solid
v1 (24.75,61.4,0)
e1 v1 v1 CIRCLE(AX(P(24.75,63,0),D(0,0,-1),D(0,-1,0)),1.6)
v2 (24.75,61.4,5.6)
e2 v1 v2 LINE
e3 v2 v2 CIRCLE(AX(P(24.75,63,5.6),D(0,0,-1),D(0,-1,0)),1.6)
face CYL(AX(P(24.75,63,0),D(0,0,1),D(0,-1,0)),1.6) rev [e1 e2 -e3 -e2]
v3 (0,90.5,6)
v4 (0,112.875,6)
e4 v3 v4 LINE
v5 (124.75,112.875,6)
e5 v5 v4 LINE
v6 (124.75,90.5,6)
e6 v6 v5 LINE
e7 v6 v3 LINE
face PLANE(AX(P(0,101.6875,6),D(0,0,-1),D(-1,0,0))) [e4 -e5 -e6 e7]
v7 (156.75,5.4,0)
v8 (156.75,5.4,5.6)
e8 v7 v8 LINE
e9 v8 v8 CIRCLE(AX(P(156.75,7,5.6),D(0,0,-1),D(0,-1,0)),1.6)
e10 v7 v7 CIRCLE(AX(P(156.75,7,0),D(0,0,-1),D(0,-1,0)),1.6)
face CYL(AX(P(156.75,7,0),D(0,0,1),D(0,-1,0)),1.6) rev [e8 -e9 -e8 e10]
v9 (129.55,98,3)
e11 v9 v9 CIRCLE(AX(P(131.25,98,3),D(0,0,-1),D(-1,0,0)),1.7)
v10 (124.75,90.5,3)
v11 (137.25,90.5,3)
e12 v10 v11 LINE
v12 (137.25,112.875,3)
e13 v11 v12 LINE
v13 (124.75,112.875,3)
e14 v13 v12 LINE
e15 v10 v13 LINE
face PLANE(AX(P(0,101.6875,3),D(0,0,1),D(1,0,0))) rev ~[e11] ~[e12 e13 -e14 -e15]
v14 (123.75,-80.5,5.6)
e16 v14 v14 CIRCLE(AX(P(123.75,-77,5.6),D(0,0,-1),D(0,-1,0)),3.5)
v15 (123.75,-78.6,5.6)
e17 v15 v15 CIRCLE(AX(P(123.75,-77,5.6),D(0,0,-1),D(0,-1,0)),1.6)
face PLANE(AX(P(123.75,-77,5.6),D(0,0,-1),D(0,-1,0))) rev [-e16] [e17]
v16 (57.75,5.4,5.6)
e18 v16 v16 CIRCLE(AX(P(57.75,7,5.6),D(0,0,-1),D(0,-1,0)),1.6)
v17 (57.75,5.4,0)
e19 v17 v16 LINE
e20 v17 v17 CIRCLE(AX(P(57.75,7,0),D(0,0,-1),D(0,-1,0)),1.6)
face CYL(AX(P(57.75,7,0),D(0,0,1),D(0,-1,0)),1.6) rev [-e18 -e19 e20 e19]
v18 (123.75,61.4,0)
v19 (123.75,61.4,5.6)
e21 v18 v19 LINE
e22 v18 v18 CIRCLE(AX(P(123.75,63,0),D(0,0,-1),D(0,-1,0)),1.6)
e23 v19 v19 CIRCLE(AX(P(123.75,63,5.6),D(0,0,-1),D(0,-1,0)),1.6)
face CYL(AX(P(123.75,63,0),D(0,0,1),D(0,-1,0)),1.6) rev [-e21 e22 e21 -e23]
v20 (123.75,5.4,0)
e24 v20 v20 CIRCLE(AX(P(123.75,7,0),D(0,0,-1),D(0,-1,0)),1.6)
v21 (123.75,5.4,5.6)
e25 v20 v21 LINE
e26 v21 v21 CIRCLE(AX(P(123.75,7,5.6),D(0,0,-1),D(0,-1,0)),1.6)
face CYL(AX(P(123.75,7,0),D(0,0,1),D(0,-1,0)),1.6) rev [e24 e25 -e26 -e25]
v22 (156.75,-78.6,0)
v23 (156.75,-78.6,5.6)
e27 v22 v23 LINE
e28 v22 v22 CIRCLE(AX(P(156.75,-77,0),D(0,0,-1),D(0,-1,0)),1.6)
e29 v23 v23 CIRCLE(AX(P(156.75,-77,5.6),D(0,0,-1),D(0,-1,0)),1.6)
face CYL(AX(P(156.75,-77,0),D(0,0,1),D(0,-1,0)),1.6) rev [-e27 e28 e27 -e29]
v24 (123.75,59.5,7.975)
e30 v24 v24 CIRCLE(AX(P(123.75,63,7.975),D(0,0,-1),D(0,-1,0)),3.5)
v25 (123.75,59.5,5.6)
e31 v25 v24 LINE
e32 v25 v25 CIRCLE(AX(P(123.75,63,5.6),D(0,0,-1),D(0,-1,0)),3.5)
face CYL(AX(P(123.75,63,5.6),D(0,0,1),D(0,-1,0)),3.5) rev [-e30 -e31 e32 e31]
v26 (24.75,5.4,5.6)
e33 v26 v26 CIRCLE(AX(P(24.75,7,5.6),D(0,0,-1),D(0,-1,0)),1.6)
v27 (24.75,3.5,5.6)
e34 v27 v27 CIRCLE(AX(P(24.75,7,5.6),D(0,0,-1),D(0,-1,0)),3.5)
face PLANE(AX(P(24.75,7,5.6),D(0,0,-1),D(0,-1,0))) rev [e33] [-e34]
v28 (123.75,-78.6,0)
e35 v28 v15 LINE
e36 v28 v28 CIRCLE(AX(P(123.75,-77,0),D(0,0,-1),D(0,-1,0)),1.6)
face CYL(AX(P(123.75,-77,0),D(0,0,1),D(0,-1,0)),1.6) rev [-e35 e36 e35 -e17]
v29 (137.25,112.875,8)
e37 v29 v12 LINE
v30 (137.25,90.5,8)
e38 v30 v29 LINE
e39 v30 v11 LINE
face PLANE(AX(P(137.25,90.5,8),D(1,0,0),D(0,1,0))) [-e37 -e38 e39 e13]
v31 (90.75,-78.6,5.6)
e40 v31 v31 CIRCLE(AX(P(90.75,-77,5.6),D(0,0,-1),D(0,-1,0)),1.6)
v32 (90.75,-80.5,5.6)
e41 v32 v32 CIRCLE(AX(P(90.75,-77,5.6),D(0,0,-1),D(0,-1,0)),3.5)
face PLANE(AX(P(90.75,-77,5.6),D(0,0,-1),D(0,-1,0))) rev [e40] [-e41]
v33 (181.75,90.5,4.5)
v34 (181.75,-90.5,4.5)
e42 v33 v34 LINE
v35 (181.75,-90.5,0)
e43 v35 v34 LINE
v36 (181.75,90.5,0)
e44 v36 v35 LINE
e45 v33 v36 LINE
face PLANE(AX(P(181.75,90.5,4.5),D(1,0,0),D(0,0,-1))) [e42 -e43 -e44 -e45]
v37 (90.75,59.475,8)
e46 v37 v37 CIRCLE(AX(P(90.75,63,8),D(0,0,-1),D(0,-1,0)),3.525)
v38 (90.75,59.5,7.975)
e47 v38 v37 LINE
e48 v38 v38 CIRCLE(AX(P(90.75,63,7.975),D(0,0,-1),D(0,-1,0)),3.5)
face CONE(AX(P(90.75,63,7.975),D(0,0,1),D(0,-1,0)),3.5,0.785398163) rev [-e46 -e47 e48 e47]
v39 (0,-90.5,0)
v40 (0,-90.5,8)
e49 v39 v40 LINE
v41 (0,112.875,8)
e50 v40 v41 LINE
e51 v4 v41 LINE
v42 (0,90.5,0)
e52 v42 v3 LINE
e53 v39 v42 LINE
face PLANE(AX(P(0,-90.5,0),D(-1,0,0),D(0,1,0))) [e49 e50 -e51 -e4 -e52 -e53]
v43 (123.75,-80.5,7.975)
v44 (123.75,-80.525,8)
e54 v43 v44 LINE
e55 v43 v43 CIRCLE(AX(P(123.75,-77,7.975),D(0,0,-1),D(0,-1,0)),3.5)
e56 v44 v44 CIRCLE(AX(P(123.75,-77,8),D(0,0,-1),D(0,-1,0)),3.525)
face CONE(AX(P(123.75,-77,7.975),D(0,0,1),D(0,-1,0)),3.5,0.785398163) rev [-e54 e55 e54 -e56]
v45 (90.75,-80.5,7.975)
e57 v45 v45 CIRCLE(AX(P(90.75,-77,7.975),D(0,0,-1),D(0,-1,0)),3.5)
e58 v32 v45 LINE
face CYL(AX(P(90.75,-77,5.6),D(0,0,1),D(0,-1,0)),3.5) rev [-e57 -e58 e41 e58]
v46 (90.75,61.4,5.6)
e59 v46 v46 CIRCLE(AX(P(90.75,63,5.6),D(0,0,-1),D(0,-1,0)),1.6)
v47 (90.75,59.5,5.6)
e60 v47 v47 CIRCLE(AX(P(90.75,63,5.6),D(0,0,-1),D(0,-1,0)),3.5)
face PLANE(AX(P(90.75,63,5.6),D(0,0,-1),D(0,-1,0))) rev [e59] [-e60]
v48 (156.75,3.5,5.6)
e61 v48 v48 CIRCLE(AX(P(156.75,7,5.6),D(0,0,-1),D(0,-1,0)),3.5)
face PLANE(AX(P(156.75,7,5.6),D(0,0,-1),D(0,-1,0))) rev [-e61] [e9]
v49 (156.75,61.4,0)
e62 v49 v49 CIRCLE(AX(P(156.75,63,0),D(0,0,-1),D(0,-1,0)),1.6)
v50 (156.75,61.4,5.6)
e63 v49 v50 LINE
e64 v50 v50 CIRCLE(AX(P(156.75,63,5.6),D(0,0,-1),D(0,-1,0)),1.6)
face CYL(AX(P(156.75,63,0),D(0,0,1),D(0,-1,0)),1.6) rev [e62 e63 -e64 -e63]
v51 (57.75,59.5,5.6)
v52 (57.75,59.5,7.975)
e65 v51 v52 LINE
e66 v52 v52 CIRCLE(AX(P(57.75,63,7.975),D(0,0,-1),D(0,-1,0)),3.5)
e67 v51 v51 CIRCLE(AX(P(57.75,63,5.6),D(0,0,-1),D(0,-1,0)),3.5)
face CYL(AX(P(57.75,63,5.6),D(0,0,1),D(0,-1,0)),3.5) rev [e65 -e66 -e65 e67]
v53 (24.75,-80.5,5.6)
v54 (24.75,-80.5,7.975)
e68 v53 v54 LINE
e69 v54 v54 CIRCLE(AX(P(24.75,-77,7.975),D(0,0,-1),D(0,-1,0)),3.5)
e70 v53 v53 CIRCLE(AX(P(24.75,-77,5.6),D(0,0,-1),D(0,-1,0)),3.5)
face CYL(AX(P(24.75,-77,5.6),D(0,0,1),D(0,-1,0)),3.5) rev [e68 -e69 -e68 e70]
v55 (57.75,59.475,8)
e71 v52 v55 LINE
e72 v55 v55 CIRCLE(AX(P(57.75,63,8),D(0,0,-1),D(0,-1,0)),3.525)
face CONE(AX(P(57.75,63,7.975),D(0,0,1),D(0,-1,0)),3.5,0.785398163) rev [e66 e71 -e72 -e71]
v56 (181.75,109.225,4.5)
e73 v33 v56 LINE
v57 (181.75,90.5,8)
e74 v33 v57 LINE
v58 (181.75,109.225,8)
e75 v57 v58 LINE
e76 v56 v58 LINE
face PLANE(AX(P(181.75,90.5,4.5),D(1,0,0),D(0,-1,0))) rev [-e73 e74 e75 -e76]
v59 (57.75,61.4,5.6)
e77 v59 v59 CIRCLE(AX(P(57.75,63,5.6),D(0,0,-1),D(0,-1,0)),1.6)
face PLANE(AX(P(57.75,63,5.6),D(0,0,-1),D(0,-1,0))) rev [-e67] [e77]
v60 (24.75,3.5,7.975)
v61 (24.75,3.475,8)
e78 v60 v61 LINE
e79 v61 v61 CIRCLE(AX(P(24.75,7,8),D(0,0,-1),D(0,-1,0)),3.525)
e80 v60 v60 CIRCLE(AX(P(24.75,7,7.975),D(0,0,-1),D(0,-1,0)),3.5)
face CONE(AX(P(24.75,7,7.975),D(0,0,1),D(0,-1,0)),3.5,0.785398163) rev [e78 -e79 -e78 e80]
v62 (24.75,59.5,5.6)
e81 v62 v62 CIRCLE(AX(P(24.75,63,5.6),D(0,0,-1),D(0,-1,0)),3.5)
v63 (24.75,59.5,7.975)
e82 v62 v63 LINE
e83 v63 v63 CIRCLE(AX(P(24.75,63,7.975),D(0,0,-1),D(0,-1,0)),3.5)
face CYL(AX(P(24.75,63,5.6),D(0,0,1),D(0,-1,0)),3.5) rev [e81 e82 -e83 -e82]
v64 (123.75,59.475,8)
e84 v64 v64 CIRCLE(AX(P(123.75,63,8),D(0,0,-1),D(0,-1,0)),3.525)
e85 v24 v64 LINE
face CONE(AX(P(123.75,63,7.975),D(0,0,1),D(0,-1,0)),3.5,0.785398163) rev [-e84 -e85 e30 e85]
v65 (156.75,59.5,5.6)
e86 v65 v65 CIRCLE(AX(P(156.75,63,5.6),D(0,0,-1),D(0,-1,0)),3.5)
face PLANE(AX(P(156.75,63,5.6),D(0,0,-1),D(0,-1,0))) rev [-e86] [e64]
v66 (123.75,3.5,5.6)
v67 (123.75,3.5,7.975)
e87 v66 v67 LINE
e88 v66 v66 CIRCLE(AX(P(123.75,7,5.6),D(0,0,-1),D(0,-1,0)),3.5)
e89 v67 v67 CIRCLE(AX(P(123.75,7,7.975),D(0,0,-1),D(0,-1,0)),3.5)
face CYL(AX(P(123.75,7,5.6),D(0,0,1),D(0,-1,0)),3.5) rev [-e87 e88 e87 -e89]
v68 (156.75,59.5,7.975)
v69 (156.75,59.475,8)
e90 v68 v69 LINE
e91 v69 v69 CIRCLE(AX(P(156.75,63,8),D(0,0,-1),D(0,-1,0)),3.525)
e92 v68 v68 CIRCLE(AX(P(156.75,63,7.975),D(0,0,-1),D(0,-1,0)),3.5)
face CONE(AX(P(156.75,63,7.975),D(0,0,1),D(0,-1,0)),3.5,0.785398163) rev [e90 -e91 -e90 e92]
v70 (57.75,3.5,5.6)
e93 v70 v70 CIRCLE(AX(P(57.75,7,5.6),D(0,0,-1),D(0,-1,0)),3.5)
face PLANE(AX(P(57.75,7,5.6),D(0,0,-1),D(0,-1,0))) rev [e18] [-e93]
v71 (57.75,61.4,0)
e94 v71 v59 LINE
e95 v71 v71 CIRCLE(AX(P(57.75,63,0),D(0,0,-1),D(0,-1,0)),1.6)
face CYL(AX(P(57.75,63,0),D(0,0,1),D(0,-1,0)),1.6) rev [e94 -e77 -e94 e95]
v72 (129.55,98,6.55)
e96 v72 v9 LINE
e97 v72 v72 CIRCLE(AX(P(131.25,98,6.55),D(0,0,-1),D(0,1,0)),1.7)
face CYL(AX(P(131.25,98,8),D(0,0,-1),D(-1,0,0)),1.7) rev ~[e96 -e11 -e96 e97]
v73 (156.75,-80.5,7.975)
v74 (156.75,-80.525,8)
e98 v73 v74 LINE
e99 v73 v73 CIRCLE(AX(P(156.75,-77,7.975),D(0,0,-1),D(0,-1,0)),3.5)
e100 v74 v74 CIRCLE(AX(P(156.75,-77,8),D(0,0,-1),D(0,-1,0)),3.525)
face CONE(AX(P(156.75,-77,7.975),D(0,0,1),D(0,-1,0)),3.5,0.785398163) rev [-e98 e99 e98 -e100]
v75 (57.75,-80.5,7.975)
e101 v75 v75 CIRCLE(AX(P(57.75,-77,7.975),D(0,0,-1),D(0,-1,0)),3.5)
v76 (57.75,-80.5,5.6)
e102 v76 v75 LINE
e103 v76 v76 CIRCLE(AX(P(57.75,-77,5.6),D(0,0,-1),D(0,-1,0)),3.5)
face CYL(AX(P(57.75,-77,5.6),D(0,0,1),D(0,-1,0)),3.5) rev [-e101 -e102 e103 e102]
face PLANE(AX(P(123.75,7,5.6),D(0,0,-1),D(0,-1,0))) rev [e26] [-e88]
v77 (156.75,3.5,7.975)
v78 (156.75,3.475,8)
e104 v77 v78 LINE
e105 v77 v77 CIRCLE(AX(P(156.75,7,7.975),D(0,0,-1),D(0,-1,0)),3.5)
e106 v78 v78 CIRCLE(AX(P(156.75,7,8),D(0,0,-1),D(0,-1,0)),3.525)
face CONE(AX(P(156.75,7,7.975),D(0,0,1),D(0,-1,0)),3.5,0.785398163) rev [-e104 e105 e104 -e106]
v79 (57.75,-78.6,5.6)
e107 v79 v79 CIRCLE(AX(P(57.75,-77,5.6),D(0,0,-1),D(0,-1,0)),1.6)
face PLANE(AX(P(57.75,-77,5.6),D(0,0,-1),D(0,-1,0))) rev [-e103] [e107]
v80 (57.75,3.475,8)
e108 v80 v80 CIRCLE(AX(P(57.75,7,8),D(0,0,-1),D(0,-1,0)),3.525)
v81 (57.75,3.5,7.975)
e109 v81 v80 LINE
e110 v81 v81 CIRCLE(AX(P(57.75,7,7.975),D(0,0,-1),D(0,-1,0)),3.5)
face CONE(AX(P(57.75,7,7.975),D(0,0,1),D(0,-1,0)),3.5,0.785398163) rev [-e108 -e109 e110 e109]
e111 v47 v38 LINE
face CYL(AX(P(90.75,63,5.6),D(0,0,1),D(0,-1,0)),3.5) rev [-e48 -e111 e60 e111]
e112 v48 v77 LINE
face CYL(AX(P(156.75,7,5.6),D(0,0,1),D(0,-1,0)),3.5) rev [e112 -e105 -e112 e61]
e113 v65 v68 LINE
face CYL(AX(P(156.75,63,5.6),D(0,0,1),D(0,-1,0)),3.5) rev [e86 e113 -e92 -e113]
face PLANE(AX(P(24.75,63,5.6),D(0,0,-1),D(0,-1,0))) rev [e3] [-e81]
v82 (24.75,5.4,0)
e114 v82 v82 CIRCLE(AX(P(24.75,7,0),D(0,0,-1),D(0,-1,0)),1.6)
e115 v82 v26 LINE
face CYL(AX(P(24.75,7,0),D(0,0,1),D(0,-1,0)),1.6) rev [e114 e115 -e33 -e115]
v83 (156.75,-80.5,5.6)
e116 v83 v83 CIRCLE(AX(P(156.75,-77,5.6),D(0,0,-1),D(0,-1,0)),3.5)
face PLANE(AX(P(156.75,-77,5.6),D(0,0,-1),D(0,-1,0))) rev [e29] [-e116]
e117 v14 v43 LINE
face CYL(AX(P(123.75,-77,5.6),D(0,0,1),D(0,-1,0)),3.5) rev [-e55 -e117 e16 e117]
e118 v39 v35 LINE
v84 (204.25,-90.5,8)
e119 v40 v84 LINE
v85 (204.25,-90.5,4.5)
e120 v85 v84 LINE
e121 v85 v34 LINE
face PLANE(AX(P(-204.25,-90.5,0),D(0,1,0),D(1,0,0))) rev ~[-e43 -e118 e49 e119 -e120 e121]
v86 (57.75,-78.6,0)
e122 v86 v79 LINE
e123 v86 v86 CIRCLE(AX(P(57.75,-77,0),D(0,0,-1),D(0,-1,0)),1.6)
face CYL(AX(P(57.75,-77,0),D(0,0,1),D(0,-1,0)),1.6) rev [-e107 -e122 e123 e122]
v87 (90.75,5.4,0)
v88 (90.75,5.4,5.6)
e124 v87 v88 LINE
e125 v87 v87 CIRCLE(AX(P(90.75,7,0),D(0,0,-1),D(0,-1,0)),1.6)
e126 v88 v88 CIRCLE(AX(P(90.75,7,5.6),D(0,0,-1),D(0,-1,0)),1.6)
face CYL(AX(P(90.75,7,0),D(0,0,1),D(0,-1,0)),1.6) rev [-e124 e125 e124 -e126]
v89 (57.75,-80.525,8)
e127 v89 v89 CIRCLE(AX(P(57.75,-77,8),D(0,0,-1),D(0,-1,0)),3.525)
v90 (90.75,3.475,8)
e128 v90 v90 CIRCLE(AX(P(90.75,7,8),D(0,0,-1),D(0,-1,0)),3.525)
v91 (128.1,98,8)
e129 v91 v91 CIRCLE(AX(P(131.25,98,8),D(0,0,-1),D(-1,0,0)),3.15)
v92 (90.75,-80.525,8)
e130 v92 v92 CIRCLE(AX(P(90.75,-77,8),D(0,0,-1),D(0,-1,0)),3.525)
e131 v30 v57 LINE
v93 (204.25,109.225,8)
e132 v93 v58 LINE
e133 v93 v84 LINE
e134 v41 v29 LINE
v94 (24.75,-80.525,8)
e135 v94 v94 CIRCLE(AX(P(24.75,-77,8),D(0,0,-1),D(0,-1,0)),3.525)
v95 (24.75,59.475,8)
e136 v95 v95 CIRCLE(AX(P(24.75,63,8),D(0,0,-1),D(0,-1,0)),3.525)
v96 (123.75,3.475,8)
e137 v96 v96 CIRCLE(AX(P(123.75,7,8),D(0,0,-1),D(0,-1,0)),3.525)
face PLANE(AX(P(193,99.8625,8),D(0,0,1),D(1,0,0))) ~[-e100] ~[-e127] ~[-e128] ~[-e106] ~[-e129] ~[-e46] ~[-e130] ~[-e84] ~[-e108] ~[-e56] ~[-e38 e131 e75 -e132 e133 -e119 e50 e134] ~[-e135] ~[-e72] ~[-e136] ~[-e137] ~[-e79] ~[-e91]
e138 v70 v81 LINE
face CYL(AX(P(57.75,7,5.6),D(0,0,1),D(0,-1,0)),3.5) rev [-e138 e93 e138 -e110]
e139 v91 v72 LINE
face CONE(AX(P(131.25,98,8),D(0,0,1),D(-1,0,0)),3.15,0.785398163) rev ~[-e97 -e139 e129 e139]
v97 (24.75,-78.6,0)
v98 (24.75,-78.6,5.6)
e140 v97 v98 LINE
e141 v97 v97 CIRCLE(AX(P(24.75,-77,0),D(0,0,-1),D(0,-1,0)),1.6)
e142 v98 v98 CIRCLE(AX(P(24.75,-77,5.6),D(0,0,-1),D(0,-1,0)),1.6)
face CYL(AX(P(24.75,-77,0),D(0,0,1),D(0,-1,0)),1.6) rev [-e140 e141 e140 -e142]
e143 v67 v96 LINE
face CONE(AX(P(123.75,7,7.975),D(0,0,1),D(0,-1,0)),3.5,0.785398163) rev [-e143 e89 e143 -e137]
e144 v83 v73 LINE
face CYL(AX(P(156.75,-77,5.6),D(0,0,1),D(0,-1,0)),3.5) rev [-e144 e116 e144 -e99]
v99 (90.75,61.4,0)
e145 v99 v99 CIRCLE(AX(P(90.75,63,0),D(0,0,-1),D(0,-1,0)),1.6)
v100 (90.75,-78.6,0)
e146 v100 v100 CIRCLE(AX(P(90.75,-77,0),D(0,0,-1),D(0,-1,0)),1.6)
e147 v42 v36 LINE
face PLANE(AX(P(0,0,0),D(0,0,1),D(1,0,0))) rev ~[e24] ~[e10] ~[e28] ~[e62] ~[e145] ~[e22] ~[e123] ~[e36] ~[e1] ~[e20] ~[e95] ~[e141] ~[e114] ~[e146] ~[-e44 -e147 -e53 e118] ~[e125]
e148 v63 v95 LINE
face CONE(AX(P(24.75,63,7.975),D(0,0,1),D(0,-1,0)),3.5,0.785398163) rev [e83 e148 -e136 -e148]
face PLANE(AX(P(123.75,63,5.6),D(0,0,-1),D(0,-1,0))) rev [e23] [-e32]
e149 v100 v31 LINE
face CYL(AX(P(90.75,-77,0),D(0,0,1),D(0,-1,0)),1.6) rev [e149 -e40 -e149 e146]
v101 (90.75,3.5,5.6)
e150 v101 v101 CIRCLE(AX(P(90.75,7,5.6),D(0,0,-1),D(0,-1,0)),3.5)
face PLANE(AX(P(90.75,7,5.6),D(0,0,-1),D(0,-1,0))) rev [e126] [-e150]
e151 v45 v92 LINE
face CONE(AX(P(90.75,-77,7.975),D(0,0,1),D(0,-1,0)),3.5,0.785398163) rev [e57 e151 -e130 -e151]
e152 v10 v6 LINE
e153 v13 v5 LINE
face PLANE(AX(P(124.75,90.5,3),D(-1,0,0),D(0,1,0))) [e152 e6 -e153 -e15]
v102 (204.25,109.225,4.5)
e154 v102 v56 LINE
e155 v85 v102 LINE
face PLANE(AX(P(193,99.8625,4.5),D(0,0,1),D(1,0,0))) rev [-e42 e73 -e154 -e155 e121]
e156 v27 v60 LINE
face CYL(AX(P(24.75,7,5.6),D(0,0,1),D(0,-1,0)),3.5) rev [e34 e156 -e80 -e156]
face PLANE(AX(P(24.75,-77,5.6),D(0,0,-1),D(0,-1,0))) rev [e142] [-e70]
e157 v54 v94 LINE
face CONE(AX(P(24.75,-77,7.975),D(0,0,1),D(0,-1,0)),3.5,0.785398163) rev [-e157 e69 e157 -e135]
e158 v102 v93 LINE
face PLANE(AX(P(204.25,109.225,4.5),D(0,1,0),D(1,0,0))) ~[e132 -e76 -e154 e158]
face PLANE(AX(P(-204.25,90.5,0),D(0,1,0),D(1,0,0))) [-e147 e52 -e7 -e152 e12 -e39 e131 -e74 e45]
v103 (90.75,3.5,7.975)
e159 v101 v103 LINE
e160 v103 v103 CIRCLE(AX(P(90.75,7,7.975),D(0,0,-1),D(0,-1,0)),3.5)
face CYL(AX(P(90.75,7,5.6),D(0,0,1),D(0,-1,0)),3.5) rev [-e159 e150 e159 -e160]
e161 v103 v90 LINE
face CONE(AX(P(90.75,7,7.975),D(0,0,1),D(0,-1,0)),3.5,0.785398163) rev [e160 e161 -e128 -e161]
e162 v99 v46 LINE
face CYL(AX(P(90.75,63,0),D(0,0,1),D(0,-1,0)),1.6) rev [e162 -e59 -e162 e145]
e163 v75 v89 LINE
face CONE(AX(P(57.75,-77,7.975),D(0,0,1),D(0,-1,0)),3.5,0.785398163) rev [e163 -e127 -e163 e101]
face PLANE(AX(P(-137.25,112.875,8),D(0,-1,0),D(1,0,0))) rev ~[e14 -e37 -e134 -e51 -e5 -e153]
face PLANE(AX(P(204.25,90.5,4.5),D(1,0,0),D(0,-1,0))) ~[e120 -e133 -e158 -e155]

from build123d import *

# Parameters (mm, degrees)
ESQUISSE1_W                                    = 408.5
ESQUISSE1_H                                    = 181
BOSS_EXTRU_1_DEPTH                             = 8
CHAMBRAGE_POUR_VIS_T_TE_RONDE_BOMB_2_COUNT     = 2
CHAMBRAGE_POUR_VIS_T_TE_RONDE_BOMB_2_PITCH     = 56
CHAMBRAGE_POUR_VIS_T_TE_RONDE_BOMB_3_COUNT     = 2
CHAMBRAGE_POUR_VIS_T_TE_RONDE_BOMB_3_PITCH     = 140
R_P_TITION_LIN_AIRE1_COUNT                     = 11
R_P_TITION_LIN_AIRE1_PITCH                     = 33
ENL_V_MAT_EXTRU_1_REACH                        = 275.026
ESQUISSE6_W                                    = 22.5
ESQUISSE6_H                                    = 4.5
BOSS_EXTRU_2_START                             = -3.5
ESQUISSE7_W                                    = 22.5
ESQUISSE7_H                                    = 18.725
BOSS_EXTRU_2_DEPTH                             = 3.5
ESQUISSE8_W                                    = 274.5
ESQUISSE8_H                                    = 22.375
BOSS_EXTRU_3_DEPTH                             = 5
FRAISAGE_POUR_VIS_T_TE_FRAIS_E_M31_D           = 3.4
FRAISAGE_POUR_VIS_T_TE_FRAIS_E_M31_CSINK_D     = 6.3
FRAISAGE_POUR_VIS_T_TE_FRAIS_E_M31_CSINK_ANGLE = 90
ESQUISSE12_W                                   = 249.5
ESQUISSE12_H                                   = 22.375
ENL_V_MAT_EXTRU_2_DEPTH                        = 3
ESQUISSE13_W                                   = 204.25
ESQUISSE13_H                                   = 203.375
ENL_V_MAT_EXTRU_3_DEPTH                        = 10


with BuildPart() as part:
    # Esquisse1 → Boss.-Extru.1 (new body)
    with BuildSketch(Plane.XY):
        Rectangle(ESQUISSE1_W, ESQUISSE1_H)
    extrude(amount=BOSS_EXTRU_1_DEPTH)

    # Esquisse3 → Chambrage pour vis à tête ronde bombée M31 (revolve, cut)
    with BuildSketch(Plane(origin=(-173.25, 63, 8), x_dir=(0, -1, 0), z_dir=(1, 0, 0))):
        Polygon((0, 0), (0, 8), (1.6, 8), (1.6, 2.4), (3.5, 2.4), (3.5, 0.025), (3.525, 0), align=None)
    chambrage_pour_vis_t_te_ronde_bomb_e_m = revolve(axis=Axis((-173.25, 63, 14.35), (0, 0, -1)), mode=Mode.SUBTRACT)

    # Chambrage pour vis _ t_te ronde bomb 2: Chambrage pour vis à tête ronde bombée M31 ×2
    with Locations(*[(0, -i * CHAMBRAGE_POUR_VIS_T_TE_RONDE_BOMB_2_PITCH, 0) for i in range(1, CHAMBRAGE_POUR_VIS_T_TE_RONDE_BOMB_2_COUNT)]):
        add(chambrage_pour_vis_t_te_ronde_bomb_e_m, mode=Mode.SUBTRACT)

    # Chambrage pour vis _ t_te ronde bomb 3: Chambrage pour vis à tête ronde bombée M31 ×2
    with Locations(*[(0, -i * CHAMBRAGE_POUR_VIS_T_TE_RONDE_BOMB_3_PITCH, 0) for i in range(1, CHAMBRAGE_POUR_VIS_T_TE_RONDE_BOMB_3_COUNT)]):
        add(chambrage_pour_vis_t_te_ronde_bomb_e_m, mode=Mode.SUBTRACT)

    # Répétition linéaire1: Chambrage pour vis à tête ronde bombée M31 ×11
    with Locations(*[(i * R_P_TITION_LIN_AIRE1_PITCH, 0, 0) for i in range(1, R_P_TITION_LIN_AIRE1_COUNT)]):
        add(chambrage_pour_vis_t_te_ronde_bomb_e_m, mode=Mode.SUBTRACT)

    # Répétition linéaire1 copy 1 sketch → Répétition linéaire1 copy 1 (revolve, cut)
    with BuildSketch(Plane(origin=(-140.25, 7, 8), x_dir=(0, -1, 0), z_dir=(1, 0, 0))):
        Polygon((0, 0), (0, 8), (1.6, 8), (1.6, 2.4), (3.5, 2.4), (3.5, 0.025), (3.525, 0), align=None)
    revolve(axis=Axis((-140.25, 7, 14.35), (0, 0, -1)), mode=Mode.SUBTRACT)

    # Répétition linéaire1 copy 2 sketch → Répétition linéaire1 copy 2 (revolve, cut)
    with BuildSketch(Plane(origin=(-107.25, 7, 8), x_dir=(0, -1, 0), z_dir=(1, 0, 0))):
        Polygon((0, 0), (0, 8), (1.6, 8), (1.6, 2.4), (3.5, 2.4), (3.5, 0.025), (3.525, 0), align=None)
    revolve(axis=Axis((-107.25, 7, 14.35), (0, 0, -1)), mode=Mode.SUBTRACT)

    # Répétition linéaire1 copy 3 sketch → Répétition linéaire1 copy 3 (revolve, cut)
    with BuildSketch(Plane(origin=(-74.25, 7, 8), x_dir=(0, -1, 0), z_dir=(1, 0, 0))):
        Polygon((0, 0), (0, 8), (1.6, 8), (1.6, 2.4), (3.5, 2.4), (3.5, 0.025), (3.525, 0), align=None)
    revolve(axis=Axis((-74.25, 7, 14.35), (0, 0, -1)), mode=Mode.SUBTRACT)

    # Répétition linéaire1 copy 4 sketch → Répétition linéaire1 copy 4 (revolve, cut)
    with BuildSketch(Plane(origin=(-41.25, 7, 8), x_dir=(0, -1, 0), z_dir=(1, 0, 0))):
        Polygon((0, 0), (0, 8), (1.6, 8), (1.6, 2.4), (3.5, 2.4), (3.5, 0.025), (3.525, 0), align=None)
    revolve(axis=Axis((-41.25, 7, 14.35), (0, 0, -1)), mode=Mode.SUBTRACT)

    # Répétition linéaire1 copy 5 sketch → Répétition linéaire1 copy 5 (revolve, cut)
    with BuildSketch(Plane(origin=(-8.25, 7, 8), x_dir=(0, -1, 0), z_dir=(1, 0, 0))):
        Polygon((0, 0), (0, 8), (1.6, 8), (1.6, 2.4), (3.5, 2.4), (3.5, 0.025), (3.525, 0), align=None)
    revolve(axis=Axis((-8.25, 7, 14.35), (0, 0, -1)), mode=Mode.SUBTRACT)

    # Répétition linéaire1 copy 6 sketch → Répétition linéaire1 copy 6 (revolve, cut)
    with BuildSketch(Plane(origin=(24.75, 7, 8), x_dir=(0, -1, 0), z_dir=(1, 0, 0))):
        Polygon((0, 0), (0, 8), (1.6, 8), (1.6, 2.4), (3.5, 2.4), (3.5, 0.025), (3.525, 0), align=None)
    revolve(axis=Axis((24.75, 7, 14.35), (0, 0, -1)), mode=Mode.SUBTRACT)

    # Répétition linéaire1 copy 7 sketch → Répétition linéaire1 copy 7 (revolve, cut)
    with BuildSketch(Plane(origin=(57.75, 7, 8), x_dir=(0, -1, 0), z_dir=(1, 0, 0))):
        Polygon((0, 0), (0, 8), (1.6, 8), (1.6, 2.4), (3.5, 2.4), (3.5, 0.025), (3.525, 0), align=None)
    revolve(axis=Axis((57.75, 7, 14.35), (0, 0, -1)), mode=Mode.SUBTRACT)

    # Répétition linéaire1 copy 8 sketch → Répétition linéaire1 copy 8 (revolve, cut)
    with BuildSketch(Plane(origin=(90.75, 7, 8), x_dir=(0, -1, 0), z_dir=(1, 0, 0))):
        Polygon((0, 0), (0, 8), (1.6, 8), (1.6, 2.4), (3.5, 2.4), (3.5, 0.025), (3.525, 0), align=None)
    revolve(axis=Axis((90.75, 7, 14.35), (0, 0, -1)), mode=Mode.SUBTRACT)

    # Répétition linéaire1 copy 9 sketch → Répétition linéaire1 copy 9 (revolve, cut)
    with BuildSketch(Plane(origin=(123.75, 7, 8), x_dir=(0, -1, 0), z_dir=(1, 0, 0))):
        Polygon((0, 0), (0, 8), (1.6, 8), (1.6, 2.4), (3.5, 2.4), (3.5, 0.025), (3.525, 0), align=None)
    revolve(axis=Axis((123.75, 7, 14.35), (0, 0, -1)), mode=Mode.SUBTRACT)

    # Répétition linéaire1 copy 10 sketch → Répétition linéaire1 copy 10 (revolve, cut)
    with BuildSketch(Plane(origin=(156.75, 7, 8), x_dir=(0, -1, 0), z_dir=(1, 0, 0))):
        Polygon((0, 0), (0, 8), (1.6, 8), (1.6, 2.4), (3.5, 2.4), (3.5, 0.025), (3.525, 0), align=None)
    revolve(axis=Axis((156.75, 7, 14.35), (0, 0, -1)), mode=Mode.SUBTRACT)

    # Répétition linéaire1 copy 11 sketch → Répétition linéaire1 copy 11 (revolve, cut)
    with BuildSketch(Plane(origin=(-140.25, -77, 8), x_dir=(0, -1, 0), z_dir=(1, 0, 0))):
        Polygon((0, 0), (0, 8), (1.6, 8), (1.6, 2.4), (3.5, 2.4), (3.5, 0.025), (3.525, 0), align=None)
    revolve(axis=Axis((-140.25, -77, 14.35), (0, 0, -1)), mode=Mode.SUBTRACT)

    # Répétition linéaire1 copy 12 sketch → Répétition linéaire1 copy 12 (revolve, cut)
    with BuildSketch(Plane(origin=(-107.25, -77, 8), x_dir=(0, -1, 0), z_dir=(1, 0, 0))):
        Polygon((0, 0), (0, 8), (1.6, 8), (1.6, 2.4), (3.5, 2.4), (3.5, 0.025), (3.525, 0), align=None)
    revolve(axis=Axis((-107.25, -77, 14.35), (0, 0, -1)), mode=Mode.SUBTRACT)

    # Répétition linéaire1 copy 13 sketch → Répétition linéaire1 copy 13 (revolve, cut)
    with BuildSketch(Plane(origin=(-74.25, -77, 8), x_dir=(0, -1, 0), z_dir=(1, 0, 0))):
        Polygon((0, 0), (0, 8), (1.6, 8), (1.6, 2.4), (3.5, 2.4), (3.5, 0.025), (3.525, 0), align=None)
    revolve(axis=Axis((-74.25, -77, 14.35), (0, 0, -1)), mode=Mode.SUBTRACT)

    # Répétition linéaire1 copy 14 sketch → Répétition linéaire1 copy 14 (revolve, cut)
    with BuildSketch(Plane(origin=(-41.25, -77, 8), x_dir=(0, -1, 0), z_dir=(1, 0, 0))):
        Polygon((0, 0), (0, 8), (1.6, 8), (1.6, 2.4), (3.5, 2.4), (3.5, 0.025), (3.525, 0), align=None)
    revolve(axis=Axis((-41.25, -77, 14.35), (0, 0, -1)), mode=Mode.SUBTRACT)

    # Répétition linéaire1 copy 15 sketch → Répétition linéaire1 copy 15 (revolve, cut)
    with BuildSketch(Plane(origin=(-8.25, -77, 8), x_dir=(0, -1, 0), z_dir=(1, 0, 0))):
        Polygon((0, 0), (0, 8), (1.6, 8), (1.6, 2.4), (3.5, 2.4), (3.5, 0.025), (3.525, 0), align=None)
    revolve(axis=Axis((-8.25, -77, 14.35), (0, 0, -1)), mode=Mode.SUBTRACT)

    # Répétition linéaire1 copy 16 sketch → Répétition linéaire1 copy 16 (revolve, cut)
    with BuildSketch(Plane(origin=(24.75, -77, 8), x_dir=(0, -1, 0), z_dir=(1, 0, 0))):
        Polygon((0, 0), (0, 8), (1.6, 8), (1.6, 2.4), (3.5, 2.4), (3.5, 0.025), (3.525, 0), align=None)
    revolve(axis=Axis((24.75, -77, 14.35), (0, 0, -1)), mode=Mode.SUBTRACT)

    # Répétition linéaire1 copy 17 sketch → Répétition linéaire1 copy 17 (revolve, cut)
    with BuildSketch(Plane(origin=(57.75, -77, 8), x_dir=(0, -1, 0), z_dir=(1, 0, 0))):
        Polygon((0, 0), (0, 8), (1.6, 8), (1.6, 2.4), (3.5, 2.4), (3.5, 0.025), (3.525, 0), align=None)
    revolve(axis=Axis((57.75, -77, 14.35), (0, 0, -1)), mode=Mode.SUBTRACT)

    # Répétition linéaire1 copy 18 sketch → Répétition linéaire1 copy 18 (revolve, cut)
    with BuildSketch(Plane(origin=(90.75, -77, 8), x_dir=(0, -1, 0), z_dir=(1, 0, 0))):
        Polygon((0, 0), (0, 8), (1.6, 8), (1.6, 2.4), (3.5, 2.4), (3.5, 0.025), (3.525, 0), align=None)
    revolve(axis=Axis((90.75, -77, 14.35), (0, 0, -1)), mode=Mode.SUBTRACT)

    # Répétition linéaire1 copy 19 sketch → Répétition linéaire1 copy 19 (revolve, cut)
    with BuildSketch(Plane(origin=(123.75, -77, 8), x_dir=(0, -1, 0), z_dir=(1, 0, 0))):
        Polygon((0, 0), (0, 8), (1.6, 8), (1.6, 2.4), (3.5, 2.4), (3.5, 0.025), (3.525, 0), align=None)
    revolve(axis=Axis((123.75, -77, 14.35), (0, 0, -1)), mode=Mode.SUBTRACT)

    # Répétition linéaire1 copy 20 sketch → Répétition linéaire1 copy 20 (revolve, cut)
    with BuildSketch(Plane(origin=(156.75, -77, 8), x_dir=(0, -1, 0), z_dir=(1, 0, 0))):
        Polygon((0, 0), (0, 8), (1.6, 8), (1.6, 2.4), (3.5, 2.4), (3.5, 0.025), (3.525, 0), align=None)
    revolve(axis=Axis((156.75, -77, 14.35), (0, 0, -1)), mode=Mode.SUBTRACT)

    # Esquisse6 → Enlèv. mat.-Extru.1 (cut, up to next)
    with BuildSketch(Plane(origin=(0, 90.5, 0), x_dir=(1, 0, 0), z_dir=(0, 1, 0)), mode=Mode.PRIVATE) as enl_v_mat_extru_1_sk1:
        with Locations((-193, -2.25)):
            Rectangle(ESQUISSE6_W, ESQUISSE6_H)
    enl_v_mat_extru_1_tool1 = extrude(enl_v_mat_extru_1_sk1.sketch, amount=-ENL_V_MAT_EXTRU_1_REACH, mode=Mode.PRIVATE) & part.part
    # Esquisse6 → Enlèv. mat.-Extru.1 (cut, up to next)
    with BuildSketch(Plane(origin=(0, 90.5, 0), x_dir=(1, 0, 0), z_dir=(0, 1, 0)), mode=Mode.PRIVATE) as enl_v_mat_extru_1_sk2:
        with Locations((193, -2.25)):
            Rectangle(ESQUISSE6_W, ESQUISSE6_H)
    enl_v_mat_extru_1_tool2 = extrude(enl_v_mat_extru_1_sk2.sketch, amount=-ENL_V_MAT_EXTRU_1_REACH, mode=Mode.PRIVATE) & part.part
    add(enl_v_mat_extru_1_tool1.solids().sort_by_distance((-193, 90.5, 2.25))[0], mode=Mode.SUBTRACT)
    add(enl_v_mat_extru_1_tool2.solids().sort_by_distance((193, 90.5, 2.25))[0], mode=Mode.SUBTRACT)

    # Esquisse7 → Boss.-Extru.2 (add)
    with BuildSketch(Plane.XY.offset(8).offset(BOSS_EXTRU_2_START)):
        with Locations((-193, 99.8625)):
            Rectangle(ESQUISSE7_W, ESQUISSE7_H)
    boss_extru_2 = extrude(amount=BOSS_EXTRU_2_DEPTH)

    # Symétrie1: Boss.-Extru.2 across plane
    add(boss_extru_2.mirror(Plane(origin=(0, 0, 0), x_dir=(0, 0, 1), z_dir=(1, 0, 0))))

    # Esquisse8 → Boss.-Extru.3 (add)
    with BuildSketch(Plane.XY.offset(8)):
        with Locations((0, 101.6875)):
            Rectangle(ESQUISSE8_W, ESQUISSE8_H)
    extrude(amount=-BOSS_EXTRU_3_DEPTH)

    # Fraisage pour vis à tête fraisée M31 (through all)
    with Locations(Plane.XY.offset(8)):
        with Locations((-131.25, 98), (131.25, 98)):
            CounterSinkHole(FRAISAGE_POUR_VIS_T_TE_FRAIS_E_M31_D / 2, FRAISAGE_POUR_VIS_T_TE_FRAIS_E_M31_CSINK_D / 2, counter_sink_angle=FRAISAGE_POUR_VIS_T_TE_FRAIS_E_M31_CSINK_ANGLE)

    # Esquisse12 → Enlèv. mat.-Extru.2 (cut)
    with BuildSketch(Plane(origin=(0, 0, 3), x_dir=(-1, 0, 0), z_dir=(0, 0, -1))):
        with Locations((0, 101.6875)):
            Rectangle(ESQUISSE12_W, ESQUISSE12_H)
    extrude(amount=-ENL_V_MAT_EXTRU_2_DEPTH, mode=Mode.SUBTRACT)

    # Esquisse13 → Enlèv. mat.-Extru.3 (cut)
    with BuildSketch(Plane(origin=(0, 0, 0), x_dir=(-1, 0, 0), z_dir=(0, 0, -1))):
        with Locations((102.125, 11.1875)):
            Rectangle(ESQUISSE13_W, ESQUISSE13_H)
    extrude(amount=-ENL_V_MAT_EXTRU_3_DEPTH, mode=Mode.SUBTRACT)


solid = part.part
